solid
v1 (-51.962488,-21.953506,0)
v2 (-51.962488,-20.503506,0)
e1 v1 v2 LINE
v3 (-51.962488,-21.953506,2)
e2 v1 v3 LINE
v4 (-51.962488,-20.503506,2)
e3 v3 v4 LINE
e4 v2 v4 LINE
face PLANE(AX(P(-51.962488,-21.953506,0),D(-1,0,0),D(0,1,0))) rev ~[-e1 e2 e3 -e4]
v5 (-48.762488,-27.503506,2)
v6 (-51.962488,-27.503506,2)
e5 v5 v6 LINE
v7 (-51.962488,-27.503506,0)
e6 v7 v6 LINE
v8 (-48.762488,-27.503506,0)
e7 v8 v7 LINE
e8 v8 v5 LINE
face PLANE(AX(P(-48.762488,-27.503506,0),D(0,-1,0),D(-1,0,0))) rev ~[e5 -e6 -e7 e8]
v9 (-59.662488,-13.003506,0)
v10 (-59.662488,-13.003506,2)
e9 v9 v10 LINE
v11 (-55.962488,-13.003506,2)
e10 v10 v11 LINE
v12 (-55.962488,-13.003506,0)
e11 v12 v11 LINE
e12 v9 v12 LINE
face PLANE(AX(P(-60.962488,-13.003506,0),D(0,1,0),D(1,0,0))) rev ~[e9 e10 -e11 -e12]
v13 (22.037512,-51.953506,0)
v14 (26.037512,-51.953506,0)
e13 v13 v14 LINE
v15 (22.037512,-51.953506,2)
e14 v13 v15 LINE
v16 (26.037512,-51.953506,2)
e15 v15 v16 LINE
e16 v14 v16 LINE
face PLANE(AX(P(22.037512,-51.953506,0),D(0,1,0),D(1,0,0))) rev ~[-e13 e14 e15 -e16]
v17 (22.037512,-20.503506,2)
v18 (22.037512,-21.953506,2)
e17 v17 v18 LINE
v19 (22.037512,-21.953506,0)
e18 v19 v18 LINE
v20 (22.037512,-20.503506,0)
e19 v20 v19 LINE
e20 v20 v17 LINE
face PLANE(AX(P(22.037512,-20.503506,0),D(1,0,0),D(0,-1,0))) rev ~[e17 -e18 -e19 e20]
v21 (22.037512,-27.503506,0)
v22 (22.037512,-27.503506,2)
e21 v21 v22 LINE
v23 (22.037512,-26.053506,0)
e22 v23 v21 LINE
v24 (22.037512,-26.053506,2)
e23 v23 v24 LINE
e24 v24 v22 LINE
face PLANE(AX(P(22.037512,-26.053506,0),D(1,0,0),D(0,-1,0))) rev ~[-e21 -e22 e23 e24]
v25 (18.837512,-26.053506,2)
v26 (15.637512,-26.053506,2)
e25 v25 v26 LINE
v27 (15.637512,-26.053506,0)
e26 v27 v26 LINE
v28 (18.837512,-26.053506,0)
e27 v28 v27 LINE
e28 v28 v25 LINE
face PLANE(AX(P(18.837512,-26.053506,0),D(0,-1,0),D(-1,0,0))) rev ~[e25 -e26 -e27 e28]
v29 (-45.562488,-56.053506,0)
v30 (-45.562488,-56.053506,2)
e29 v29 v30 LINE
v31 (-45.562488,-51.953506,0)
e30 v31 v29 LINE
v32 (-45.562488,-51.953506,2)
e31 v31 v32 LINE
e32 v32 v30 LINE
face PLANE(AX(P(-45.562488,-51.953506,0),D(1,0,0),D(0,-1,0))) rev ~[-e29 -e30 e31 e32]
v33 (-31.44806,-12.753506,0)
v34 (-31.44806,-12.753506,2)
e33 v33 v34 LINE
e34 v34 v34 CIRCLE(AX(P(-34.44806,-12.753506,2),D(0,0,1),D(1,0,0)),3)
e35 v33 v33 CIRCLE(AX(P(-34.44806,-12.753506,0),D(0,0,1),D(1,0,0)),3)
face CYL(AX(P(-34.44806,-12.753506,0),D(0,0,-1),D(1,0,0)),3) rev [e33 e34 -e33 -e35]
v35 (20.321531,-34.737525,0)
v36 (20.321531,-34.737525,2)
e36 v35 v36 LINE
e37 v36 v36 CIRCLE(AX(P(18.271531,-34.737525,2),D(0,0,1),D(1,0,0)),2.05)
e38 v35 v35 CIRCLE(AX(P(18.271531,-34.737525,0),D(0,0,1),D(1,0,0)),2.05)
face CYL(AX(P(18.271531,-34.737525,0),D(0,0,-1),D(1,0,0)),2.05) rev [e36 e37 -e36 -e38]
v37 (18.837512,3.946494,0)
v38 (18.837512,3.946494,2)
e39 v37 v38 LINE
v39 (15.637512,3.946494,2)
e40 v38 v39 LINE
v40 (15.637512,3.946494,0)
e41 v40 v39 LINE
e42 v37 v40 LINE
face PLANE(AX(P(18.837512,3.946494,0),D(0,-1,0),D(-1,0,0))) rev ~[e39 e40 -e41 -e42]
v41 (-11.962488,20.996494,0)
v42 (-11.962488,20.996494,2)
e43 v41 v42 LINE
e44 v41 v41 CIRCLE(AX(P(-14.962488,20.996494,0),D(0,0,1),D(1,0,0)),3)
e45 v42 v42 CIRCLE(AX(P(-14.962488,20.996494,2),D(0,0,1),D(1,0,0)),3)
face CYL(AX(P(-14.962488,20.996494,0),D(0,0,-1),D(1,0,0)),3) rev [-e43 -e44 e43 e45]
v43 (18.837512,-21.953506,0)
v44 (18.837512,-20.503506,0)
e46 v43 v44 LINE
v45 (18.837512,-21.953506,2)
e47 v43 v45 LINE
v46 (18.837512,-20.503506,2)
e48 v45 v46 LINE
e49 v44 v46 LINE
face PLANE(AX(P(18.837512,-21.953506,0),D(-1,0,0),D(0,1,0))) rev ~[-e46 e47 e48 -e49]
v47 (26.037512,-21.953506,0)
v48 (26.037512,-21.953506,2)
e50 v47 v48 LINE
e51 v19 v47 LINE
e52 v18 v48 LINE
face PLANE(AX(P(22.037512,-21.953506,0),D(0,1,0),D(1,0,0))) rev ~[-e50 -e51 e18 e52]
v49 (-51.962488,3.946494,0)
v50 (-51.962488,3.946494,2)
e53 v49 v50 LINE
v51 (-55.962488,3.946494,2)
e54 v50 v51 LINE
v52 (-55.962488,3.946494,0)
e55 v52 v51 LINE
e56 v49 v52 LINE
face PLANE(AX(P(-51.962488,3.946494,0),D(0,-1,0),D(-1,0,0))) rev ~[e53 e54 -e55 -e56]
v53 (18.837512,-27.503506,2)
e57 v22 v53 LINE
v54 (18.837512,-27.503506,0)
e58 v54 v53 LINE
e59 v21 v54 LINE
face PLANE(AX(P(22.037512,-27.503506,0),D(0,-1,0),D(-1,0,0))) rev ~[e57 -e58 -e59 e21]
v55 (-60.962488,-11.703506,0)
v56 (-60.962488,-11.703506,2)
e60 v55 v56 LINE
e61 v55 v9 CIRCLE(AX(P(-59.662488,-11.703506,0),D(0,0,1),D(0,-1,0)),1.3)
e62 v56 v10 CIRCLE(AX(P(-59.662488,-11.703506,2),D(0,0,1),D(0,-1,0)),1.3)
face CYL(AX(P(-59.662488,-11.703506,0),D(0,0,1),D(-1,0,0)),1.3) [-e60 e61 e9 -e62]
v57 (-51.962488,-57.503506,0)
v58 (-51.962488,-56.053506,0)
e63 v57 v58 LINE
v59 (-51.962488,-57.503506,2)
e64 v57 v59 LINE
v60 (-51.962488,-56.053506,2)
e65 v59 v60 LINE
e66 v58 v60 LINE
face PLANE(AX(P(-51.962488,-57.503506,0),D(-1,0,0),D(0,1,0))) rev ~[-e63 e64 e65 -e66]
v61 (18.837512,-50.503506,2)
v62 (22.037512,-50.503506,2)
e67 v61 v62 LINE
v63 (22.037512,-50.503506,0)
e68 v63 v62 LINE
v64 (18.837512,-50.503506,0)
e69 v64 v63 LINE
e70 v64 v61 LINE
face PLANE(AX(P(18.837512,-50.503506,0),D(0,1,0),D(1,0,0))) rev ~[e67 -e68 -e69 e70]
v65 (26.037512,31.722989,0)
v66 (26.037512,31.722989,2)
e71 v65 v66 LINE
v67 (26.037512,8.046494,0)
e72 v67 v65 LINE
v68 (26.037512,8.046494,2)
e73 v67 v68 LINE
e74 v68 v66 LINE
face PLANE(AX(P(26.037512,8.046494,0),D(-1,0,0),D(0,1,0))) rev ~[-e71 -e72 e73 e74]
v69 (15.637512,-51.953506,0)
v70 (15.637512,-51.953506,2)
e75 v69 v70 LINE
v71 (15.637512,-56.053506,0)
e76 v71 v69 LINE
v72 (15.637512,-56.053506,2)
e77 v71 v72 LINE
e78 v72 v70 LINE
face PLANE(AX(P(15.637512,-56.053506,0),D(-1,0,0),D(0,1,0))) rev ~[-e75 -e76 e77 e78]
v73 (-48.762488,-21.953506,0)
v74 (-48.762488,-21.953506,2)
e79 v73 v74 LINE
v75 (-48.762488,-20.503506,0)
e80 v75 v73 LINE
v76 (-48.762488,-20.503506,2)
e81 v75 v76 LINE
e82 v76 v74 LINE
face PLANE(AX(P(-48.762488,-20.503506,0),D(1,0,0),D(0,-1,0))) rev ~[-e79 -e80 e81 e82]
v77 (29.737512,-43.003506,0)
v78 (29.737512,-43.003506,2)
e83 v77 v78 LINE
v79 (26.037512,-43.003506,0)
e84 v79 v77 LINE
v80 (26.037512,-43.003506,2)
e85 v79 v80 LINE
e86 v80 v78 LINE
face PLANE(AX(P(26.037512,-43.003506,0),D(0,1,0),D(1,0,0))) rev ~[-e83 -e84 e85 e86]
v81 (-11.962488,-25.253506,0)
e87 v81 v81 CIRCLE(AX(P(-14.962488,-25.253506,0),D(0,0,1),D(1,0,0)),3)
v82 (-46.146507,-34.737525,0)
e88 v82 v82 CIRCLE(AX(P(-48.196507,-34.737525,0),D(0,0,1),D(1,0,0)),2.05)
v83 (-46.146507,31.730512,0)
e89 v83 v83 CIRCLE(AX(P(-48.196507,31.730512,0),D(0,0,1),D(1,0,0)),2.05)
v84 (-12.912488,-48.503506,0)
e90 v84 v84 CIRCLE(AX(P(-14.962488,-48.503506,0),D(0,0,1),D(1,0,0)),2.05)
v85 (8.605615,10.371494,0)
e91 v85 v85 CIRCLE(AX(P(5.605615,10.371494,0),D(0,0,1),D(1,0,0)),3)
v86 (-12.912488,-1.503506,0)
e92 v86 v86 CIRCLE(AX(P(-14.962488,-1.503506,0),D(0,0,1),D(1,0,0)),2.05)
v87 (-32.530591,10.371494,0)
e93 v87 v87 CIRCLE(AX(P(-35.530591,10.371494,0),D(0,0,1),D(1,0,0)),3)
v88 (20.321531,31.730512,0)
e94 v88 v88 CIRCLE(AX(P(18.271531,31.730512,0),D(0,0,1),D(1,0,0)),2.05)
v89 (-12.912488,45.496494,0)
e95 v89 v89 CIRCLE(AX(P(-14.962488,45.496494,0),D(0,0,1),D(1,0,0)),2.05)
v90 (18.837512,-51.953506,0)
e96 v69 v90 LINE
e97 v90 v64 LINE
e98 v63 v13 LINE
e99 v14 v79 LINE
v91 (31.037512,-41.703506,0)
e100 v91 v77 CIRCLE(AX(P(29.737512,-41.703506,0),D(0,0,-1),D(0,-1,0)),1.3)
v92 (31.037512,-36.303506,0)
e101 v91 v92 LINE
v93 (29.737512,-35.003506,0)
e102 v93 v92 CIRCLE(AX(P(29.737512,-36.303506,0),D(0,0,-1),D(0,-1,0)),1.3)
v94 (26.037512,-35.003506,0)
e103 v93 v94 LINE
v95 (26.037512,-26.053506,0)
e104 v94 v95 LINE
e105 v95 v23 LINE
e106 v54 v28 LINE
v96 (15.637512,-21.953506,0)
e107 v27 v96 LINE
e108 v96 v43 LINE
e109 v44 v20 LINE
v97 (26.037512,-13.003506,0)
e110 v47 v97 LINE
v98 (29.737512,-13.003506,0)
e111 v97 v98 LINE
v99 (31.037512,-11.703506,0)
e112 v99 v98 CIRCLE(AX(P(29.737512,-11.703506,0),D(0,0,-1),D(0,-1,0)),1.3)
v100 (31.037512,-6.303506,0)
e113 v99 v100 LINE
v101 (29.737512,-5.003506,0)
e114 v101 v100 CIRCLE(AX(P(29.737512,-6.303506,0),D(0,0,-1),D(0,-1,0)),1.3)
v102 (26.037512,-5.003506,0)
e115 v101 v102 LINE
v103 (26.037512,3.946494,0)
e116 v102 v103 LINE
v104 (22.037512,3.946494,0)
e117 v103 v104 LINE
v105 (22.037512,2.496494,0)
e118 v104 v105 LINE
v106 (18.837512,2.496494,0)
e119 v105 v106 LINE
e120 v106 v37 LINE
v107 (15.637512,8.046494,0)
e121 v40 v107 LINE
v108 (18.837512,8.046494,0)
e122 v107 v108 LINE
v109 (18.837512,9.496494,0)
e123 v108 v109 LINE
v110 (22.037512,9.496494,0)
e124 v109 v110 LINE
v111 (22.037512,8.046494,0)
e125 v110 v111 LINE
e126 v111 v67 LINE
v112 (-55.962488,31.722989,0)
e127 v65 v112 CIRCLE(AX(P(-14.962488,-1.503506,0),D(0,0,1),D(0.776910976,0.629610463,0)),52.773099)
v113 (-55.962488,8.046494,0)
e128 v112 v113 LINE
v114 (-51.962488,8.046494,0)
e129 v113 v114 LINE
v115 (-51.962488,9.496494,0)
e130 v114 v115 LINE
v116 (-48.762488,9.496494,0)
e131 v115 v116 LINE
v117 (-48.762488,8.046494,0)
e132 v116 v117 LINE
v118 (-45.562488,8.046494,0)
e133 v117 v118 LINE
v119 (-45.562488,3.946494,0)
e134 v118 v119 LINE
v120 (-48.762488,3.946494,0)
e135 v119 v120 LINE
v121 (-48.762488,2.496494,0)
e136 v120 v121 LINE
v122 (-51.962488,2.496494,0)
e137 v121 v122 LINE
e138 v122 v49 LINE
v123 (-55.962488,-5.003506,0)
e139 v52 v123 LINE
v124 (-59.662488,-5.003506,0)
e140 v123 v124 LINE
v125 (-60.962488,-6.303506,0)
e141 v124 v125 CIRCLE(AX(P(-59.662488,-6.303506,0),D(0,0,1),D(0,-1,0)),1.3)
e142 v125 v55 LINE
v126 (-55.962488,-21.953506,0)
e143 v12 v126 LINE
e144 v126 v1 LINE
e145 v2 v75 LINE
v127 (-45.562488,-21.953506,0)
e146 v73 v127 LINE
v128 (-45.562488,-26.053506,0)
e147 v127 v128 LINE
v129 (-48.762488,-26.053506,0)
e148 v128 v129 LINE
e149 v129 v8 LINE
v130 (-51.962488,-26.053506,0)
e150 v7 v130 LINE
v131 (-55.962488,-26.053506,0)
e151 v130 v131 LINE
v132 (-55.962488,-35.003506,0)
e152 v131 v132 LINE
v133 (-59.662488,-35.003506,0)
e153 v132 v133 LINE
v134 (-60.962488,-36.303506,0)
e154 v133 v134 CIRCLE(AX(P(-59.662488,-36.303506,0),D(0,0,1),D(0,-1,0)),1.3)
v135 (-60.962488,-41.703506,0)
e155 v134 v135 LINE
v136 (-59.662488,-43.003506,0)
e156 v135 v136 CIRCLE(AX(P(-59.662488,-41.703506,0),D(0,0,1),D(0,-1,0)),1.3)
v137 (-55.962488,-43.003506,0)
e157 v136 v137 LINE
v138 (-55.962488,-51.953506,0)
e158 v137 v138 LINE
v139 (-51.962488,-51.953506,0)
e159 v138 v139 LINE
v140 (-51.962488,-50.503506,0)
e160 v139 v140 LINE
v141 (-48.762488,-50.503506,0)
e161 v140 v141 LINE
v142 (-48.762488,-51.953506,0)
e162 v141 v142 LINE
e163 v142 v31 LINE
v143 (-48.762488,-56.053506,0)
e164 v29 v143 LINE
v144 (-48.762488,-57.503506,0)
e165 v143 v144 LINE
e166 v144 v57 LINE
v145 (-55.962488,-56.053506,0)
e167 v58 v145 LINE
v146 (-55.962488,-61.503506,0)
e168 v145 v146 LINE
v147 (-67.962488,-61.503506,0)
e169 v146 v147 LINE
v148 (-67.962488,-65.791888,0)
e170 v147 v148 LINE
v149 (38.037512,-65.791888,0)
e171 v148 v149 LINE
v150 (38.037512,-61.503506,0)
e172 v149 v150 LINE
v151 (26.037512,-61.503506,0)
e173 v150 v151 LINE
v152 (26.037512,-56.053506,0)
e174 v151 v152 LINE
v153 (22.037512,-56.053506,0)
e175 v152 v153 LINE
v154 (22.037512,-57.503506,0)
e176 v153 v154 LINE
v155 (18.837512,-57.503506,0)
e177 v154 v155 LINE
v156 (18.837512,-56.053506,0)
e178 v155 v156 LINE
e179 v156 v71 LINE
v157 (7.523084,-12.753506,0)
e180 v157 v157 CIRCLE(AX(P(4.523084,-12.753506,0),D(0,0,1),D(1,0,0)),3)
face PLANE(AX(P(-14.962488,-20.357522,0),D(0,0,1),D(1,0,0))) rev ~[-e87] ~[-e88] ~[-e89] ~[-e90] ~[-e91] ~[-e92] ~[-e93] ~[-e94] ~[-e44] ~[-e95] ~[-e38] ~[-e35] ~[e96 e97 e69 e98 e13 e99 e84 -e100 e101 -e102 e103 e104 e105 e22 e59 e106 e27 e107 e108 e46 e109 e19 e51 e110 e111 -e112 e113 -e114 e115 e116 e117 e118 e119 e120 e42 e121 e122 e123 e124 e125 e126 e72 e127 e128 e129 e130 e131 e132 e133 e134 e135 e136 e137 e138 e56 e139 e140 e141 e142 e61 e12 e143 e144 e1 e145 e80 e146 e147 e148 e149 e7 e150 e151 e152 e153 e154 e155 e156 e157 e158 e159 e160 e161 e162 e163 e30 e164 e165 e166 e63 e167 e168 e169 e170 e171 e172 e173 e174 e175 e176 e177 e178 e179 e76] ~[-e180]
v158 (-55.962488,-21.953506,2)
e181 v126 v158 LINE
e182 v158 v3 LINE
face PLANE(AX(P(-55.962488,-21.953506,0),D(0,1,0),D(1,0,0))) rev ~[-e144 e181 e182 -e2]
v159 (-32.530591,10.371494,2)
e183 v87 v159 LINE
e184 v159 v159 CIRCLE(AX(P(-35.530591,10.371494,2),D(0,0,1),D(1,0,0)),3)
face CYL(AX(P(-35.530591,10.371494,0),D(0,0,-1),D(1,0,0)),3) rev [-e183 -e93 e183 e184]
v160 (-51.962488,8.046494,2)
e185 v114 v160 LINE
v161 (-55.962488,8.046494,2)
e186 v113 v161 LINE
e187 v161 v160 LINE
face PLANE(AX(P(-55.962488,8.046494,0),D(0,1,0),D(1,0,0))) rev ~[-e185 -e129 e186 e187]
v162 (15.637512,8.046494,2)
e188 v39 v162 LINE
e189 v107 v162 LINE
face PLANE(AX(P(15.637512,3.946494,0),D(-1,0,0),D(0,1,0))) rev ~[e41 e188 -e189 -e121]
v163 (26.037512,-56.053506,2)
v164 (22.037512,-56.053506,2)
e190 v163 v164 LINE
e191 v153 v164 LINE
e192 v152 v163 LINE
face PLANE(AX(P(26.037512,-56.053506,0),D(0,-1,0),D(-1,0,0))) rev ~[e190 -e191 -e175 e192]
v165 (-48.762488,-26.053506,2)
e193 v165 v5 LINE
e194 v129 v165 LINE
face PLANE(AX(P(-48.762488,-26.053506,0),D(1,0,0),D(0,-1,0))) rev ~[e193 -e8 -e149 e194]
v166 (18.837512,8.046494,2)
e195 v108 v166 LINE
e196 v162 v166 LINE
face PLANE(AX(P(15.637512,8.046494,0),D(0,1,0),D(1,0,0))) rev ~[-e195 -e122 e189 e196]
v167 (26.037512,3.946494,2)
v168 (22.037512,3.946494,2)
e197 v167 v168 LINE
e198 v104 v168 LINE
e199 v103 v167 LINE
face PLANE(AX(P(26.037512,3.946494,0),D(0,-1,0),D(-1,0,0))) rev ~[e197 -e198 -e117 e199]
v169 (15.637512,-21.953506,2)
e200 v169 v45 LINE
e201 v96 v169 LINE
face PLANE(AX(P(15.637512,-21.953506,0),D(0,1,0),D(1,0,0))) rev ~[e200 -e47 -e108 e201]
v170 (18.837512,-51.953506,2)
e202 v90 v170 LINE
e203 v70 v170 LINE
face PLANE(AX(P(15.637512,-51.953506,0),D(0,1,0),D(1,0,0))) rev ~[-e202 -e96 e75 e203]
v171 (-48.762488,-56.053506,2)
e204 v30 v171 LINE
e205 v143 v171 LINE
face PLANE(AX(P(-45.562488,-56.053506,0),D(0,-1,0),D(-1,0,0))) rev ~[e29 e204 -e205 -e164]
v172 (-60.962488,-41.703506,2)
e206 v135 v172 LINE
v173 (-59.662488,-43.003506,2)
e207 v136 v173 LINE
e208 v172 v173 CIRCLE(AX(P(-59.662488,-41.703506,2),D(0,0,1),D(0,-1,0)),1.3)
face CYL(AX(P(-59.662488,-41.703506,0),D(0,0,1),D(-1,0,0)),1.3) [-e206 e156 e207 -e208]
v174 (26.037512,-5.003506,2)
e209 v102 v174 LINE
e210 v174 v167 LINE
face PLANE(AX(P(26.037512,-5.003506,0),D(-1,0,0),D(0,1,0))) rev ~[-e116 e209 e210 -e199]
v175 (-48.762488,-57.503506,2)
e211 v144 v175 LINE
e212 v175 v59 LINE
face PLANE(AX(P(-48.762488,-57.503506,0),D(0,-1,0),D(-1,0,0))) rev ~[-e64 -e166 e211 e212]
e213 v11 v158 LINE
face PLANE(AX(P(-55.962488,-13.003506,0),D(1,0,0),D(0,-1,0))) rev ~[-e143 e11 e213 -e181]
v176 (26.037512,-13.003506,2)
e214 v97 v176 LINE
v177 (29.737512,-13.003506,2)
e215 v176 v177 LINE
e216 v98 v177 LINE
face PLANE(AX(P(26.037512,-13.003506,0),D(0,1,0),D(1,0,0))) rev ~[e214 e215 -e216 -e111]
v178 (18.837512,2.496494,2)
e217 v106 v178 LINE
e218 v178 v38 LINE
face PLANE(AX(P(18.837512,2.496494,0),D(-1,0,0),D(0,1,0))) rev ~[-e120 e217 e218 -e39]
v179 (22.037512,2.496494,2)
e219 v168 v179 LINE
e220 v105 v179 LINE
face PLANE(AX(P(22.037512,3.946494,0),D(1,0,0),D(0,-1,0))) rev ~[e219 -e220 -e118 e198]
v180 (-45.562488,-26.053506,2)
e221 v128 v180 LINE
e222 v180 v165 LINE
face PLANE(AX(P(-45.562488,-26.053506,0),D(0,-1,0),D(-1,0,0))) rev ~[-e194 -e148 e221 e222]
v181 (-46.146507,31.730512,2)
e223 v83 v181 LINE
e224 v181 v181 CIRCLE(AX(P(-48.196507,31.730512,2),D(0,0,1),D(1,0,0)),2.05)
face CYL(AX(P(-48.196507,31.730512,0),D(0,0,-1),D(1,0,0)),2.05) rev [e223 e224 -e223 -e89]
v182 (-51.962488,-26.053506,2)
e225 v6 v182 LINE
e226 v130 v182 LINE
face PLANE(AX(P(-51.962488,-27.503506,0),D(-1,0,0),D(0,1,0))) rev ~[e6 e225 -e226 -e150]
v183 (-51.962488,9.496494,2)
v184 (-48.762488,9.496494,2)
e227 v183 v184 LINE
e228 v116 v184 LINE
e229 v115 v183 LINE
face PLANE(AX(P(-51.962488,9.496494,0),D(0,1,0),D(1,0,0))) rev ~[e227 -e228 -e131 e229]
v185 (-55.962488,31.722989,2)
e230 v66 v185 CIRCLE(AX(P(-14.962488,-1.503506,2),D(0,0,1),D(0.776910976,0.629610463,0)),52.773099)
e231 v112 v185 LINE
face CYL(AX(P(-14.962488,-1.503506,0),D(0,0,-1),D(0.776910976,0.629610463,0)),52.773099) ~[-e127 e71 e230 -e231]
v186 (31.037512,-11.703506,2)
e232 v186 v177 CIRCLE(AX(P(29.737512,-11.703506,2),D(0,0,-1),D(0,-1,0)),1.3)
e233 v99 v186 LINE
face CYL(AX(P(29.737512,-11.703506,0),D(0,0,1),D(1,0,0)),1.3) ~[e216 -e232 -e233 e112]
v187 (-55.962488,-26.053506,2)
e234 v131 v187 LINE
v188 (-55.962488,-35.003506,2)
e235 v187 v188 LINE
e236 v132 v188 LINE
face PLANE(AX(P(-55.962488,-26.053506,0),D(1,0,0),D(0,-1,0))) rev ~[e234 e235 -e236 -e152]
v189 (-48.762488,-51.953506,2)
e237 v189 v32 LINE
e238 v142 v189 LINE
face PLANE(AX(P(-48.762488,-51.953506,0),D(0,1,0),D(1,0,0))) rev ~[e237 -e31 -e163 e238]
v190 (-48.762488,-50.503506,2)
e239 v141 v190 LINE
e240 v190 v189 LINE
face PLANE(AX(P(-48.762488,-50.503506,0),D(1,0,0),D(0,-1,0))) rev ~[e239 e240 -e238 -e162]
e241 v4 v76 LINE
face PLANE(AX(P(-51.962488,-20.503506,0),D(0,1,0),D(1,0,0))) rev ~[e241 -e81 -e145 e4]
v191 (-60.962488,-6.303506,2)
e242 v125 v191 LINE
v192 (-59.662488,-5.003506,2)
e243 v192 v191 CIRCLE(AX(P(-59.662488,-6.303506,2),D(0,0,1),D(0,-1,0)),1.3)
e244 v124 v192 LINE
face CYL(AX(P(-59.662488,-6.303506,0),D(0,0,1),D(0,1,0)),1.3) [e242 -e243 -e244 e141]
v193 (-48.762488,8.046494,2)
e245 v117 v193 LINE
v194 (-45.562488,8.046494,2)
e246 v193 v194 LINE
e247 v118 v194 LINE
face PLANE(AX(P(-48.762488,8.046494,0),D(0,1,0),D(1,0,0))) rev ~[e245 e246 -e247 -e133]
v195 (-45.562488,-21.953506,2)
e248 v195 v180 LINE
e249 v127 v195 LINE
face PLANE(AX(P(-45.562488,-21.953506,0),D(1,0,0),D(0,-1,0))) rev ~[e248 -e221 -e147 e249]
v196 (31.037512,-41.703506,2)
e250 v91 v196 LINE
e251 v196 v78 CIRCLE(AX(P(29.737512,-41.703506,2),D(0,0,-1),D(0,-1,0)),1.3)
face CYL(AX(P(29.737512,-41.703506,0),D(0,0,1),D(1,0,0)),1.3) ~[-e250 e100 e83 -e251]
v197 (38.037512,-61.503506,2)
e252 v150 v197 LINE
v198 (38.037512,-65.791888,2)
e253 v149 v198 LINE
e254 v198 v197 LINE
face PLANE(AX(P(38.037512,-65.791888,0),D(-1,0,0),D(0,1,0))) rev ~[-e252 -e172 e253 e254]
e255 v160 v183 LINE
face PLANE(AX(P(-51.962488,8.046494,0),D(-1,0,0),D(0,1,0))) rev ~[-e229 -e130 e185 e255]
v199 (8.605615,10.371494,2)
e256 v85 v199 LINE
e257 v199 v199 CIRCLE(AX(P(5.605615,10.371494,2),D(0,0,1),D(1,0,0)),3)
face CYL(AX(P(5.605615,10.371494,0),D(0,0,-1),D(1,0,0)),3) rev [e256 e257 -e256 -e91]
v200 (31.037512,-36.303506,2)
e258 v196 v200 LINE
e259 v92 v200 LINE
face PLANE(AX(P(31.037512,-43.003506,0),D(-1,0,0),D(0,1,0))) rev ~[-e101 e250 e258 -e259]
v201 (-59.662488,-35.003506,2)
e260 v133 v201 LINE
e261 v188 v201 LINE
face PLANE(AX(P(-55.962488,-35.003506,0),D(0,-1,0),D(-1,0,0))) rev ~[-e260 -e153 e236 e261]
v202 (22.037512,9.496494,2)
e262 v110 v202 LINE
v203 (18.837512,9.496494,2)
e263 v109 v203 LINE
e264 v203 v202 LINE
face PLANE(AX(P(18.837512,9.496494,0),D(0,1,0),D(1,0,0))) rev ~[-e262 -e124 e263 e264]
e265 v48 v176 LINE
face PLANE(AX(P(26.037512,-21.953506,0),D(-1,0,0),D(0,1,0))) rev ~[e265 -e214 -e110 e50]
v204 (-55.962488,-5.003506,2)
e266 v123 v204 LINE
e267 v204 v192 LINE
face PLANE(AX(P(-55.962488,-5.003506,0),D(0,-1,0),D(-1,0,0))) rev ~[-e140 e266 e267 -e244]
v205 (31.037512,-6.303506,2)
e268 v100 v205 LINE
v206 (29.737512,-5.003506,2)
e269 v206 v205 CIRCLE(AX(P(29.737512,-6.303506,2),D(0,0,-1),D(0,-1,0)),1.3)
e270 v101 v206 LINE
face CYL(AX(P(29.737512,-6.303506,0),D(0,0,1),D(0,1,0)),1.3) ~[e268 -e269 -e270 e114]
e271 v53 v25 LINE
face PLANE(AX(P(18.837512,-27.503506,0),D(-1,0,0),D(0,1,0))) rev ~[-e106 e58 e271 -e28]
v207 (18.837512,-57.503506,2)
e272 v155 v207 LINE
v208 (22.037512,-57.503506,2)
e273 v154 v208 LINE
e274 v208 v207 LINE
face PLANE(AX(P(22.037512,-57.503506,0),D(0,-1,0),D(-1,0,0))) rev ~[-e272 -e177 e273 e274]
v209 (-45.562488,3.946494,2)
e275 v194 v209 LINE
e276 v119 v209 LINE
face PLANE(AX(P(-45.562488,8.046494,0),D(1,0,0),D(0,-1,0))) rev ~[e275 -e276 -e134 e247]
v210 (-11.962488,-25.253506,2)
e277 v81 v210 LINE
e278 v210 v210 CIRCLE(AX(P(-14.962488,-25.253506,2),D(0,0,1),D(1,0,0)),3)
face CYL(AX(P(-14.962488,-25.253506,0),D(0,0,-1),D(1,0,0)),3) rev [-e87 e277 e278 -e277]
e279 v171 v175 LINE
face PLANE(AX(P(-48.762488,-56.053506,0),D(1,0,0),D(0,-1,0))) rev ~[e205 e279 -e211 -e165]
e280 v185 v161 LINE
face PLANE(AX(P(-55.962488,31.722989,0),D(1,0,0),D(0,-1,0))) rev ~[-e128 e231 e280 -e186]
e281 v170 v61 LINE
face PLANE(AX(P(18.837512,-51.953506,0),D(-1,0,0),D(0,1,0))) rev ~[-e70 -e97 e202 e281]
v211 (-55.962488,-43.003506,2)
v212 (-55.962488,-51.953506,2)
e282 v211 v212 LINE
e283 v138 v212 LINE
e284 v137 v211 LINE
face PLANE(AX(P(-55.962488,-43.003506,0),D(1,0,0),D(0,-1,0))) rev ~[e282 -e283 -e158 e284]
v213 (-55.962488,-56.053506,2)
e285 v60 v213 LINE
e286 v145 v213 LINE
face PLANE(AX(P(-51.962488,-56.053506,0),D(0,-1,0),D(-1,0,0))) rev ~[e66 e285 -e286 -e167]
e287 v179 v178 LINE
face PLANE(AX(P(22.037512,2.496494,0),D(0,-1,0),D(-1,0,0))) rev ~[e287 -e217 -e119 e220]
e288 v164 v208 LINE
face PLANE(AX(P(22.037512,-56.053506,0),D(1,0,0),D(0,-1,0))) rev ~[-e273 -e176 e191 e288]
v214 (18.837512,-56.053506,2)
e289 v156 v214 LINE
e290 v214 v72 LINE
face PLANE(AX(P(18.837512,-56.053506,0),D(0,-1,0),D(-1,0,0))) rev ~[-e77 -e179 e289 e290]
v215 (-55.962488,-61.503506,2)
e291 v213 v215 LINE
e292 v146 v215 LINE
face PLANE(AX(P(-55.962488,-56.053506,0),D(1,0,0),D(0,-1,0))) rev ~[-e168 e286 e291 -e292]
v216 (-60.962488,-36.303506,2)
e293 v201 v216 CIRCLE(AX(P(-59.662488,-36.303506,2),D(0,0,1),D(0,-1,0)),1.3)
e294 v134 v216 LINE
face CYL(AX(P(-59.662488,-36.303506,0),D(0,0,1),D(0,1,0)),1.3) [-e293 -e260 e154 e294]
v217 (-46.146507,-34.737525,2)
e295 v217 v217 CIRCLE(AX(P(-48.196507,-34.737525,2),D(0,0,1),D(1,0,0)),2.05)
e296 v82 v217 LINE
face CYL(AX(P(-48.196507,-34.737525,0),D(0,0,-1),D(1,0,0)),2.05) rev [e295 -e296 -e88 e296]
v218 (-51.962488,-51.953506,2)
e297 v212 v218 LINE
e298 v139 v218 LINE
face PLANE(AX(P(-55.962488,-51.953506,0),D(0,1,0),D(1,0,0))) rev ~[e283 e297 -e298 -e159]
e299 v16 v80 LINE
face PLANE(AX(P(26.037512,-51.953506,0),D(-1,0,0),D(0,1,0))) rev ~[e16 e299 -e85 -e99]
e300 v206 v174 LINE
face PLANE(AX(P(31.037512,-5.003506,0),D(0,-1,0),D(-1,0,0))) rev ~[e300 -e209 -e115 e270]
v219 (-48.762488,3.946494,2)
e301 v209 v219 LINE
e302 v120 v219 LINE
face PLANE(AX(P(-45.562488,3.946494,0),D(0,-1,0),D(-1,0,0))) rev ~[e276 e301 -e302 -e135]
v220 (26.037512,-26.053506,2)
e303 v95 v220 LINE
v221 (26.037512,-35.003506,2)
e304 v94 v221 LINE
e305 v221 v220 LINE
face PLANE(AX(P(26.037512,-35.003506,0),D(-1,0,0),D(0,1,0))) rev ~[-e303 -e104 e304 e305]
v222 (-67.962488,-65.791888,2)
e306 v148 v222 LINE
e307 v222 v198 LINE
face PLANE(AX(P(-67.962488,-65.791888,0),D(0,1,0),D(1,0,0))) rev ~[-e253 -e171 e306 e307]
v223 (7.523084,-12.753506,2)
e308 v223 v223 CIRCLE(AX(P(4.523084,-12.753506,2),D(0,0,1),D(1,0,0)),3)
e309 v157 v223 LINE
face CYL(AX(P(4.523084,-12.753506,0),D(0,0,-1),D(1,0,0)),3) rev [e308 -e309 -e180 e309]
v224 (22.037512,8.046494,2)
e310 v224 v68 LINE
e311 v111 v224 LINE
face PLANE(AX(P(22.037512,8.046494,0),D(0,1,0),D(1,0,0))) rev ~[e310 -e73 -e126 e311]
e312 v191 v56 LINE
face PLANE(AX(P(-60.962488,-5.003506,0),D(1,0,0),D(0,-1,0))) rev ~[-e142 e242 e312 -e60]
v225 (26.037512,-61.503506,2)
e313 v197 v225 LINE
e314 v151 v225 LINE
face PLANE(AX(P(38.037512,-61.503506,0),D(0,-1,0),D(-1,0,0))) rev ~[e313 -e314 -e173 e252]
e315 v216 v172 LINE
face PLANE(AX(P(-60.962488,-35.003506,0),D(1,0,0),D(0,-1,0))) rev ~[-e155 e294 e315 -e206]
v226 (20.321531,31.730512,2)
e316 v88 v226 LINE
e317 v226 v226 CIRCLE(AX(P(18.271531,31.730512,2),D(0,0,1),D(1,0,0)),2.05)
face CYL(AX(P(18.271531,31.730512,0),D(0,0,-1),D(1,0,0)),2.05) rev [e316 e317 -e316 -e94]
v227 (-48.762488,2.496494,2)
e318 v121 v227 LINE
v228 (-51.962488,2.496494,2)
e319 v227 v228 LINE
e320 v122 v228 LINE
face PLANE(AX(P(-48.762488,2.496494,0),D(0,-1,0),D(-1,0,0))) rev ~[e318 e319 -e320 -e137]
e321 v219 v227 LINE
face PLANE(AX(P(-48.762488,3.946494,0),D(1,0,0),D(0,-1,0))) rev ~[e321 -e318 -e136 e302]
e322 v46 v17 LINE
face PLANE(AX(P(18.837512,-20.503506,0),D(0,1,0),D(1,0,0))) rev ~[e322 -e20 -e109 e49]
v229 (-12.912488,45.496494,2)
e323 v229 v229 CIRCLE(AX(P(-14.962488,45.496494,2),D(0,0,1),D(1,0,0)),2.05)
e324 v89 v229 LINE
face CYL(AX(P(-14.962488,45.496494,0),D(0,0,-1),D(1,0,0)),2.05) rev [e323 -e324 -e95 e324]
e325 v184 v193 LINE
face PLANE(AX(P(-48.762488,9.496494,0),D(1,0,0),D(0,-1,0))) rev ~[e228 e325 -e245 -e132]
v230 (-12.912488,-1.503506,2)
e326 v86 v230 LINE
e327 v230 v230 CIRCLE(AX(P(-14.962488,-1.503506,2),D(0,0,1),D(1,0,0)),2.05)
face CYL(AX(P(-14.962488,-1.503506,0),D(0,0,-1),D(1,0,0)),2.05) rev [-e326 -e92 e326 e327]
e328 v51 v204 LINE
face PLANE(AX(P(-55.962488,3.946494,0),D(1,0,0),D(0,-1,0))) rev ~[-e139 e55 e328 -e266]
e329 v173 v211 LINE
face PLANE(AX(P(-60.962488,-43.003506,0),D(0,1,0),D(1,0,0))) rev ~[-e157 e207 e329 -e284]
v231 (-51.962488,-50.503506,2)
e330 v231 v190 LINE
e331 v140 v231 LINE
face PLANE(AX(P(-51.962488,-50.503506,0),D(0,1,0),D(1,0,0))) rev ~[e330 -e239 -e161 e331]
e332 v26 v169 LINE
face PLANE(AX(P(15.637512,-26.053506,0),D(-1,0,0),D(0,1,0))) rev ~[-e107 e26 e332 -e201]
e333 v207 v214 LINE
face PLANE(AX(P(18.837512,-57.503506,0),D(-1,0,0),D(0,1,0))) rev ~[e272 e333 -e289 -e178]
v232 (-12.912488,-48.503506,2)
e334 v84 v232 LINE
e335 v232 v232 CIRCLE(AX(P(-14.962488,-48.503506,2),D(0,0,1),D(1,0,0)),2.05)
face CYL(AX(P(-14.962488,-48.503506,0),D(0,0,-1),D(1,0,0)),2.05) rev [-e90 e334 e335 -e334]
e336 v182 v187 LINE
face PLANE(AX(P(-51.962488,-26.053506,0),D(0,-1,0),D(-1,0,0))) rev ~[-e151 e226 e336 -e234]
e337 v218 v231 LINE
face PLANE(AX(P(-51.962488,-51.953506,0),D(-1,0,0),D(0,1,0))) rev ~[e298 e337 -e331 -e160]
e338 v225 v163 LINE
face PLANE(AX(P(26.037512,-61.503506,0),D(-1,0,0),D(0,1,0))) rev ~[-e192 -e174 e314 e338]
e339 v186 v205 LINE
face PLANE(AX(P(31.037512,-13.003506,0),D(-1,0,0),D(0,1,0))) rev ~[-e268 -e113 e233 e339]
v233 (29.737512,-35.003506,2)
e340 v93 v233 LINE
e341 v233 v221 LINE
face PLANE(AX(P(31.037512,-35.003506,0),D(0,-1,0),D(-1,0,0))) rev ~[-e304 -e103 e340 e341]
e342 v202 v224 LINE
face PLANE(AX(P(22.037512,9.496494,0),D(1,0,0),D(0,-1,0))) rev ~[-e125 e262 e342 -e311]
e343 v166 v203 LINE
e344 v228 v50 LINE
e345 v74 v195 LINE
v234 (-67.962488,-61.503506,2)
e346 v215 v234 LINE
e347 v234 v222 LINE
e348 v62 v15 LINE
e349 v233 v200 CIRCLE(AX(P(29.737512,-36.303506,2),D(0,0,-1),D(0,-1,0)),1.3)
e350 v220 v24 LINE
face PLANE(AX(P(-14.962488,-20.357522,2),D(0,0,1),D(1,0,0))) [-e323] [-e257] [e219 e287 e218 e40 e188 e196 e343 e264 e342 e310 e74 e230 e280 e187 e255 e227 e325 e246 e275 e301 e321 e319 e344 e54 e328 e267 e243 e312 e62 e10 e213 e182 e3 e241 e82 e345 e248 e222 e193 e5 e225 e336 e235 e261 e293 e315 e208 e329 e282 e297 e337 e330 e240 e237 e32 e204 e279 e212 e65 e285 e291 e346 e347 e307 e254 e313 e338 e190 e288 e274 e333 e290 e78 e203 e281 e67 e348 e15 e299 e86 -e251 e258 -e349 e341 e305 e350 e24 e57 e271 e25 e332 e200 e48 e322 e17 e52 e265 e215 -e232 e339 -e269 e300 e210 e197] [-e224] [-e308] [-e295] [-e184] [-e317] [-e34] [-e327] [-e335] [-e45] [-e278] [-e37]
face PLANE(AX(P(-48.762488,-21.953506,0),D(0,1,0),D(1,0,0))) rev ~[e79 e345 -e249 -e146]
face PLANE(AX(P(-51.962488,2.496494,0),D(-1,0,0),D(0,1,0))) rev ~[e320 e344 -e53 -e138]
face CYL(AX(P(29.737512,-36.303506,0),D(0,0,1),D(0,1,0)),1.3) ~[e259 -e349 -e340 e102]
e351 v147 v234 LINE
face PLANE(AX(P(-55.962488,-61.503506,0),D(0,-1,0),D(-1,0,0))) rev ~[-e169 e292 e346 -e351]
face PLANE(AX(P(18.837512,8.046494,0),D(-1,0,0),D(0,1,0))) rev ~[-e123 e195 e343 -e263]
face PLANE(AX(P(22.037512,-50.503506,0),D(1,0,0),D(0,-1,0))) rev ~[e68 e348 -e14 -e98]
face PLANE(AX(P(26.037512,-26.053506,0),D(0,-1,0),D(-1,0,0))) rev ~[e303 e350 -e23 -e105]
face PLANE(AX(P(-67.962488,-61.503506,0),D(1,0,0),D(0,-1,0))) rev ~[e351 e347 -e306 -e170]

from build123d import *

# Parameters (mm, degrees)
SKETCH_1_R      = 3
SKETCH_1_R_2    = 2.05
EXTRUDE_2_DEPTH = 2
FILLET_1_R      = 1.3


with BuildPart() as part:
    # 草图1 → 凸台-拉伸2 (new body)
    with BuildSketch(Plane.XY):
        with BuildLine():
            Line((-55.962487977, 23.496493589), (-55.962487977, 8.046493589))
            Line((-55.962487977, 8.046493589), (-51.962487977, 8.046493589))
            Line((-51.962487977, 8.046493589), (-51.962487977, 9.496493589))
            Line((-51.962487977, 9.496493589), (-48.762487977, 9.496493589))
            Line((-48.762487977, 9.496493589), (-48.762487977, 8.046493589))
            Line((-48.762487977, 8.046493589), (-45.562487977, 8.046493589))
            Line((-45.562487977, 8.046493589), (-45.562487977, 3.946493589))
            Line((-45.562487977, 3.946493589), (-48.762487977, 3.946493589))
            Line((-48.762487977, 3.946493589), (-48.762487977, 2.496493589))
            Line((-48.762487977, 2.496493589), (-51.962487977, 2.496493589))
            Line((-51.962487977, 2.496493589), (-51.962487977, 3.946493589))
            Line((-51.962487977, 3.946493589), (-55.962487977, 3.946493589))
            Line((-55.962487977, 3.946493589), (-55.962487977, -5.003506411))
            Line((-55.962487977, -5.003506411), (-60.962487977, -5.003506411))
            Line((-60.962487977, -5.003506411), (-60.962487977, -13.003506411))
            Line((-60.962487977, -13.003506411), (-55.962487977, -13.003506411))
            Line((-55.962487977, -13.003506411), (-55.962487977, -21.953506411))
            Line((-55.962487977, -21.953506411), (-51.962487977, -21.953506411))
            Line((-51.962487977, -21.953506411), (-51.962487977, -20.503506411))
            Line((-51.962487977, -20.503506411), (-48.762487977, -20.503506411))
            Line((-48.762487977, -20.503506411), (-48.762487977, -21.953506411))
            Line((-48.762487977, -21.953506411), (-45.562487977, -21.953506411))
            Line((-45.562487977, -21.953506411), (-45.562487977, -26.053506411))
            Line((-45.562487977, -26.053506411), (-48.762487977, -26.053506411))
            Line((-48.762487977, -26.053506411), (-48.762487977, -27.503506411))
            Line((-48.762487977, -27.503506411), (-51.962487977, -27.503506411))
            Line((-51.962487977, -27.503506411), (-51.962487977, -26.053506411))
            Line((-51.962487977, -26.053506411), (-55.962487977, -26.053506411))
            Line((-55.962487977, -26.053506411), (-55.962487977, -35.003506411))
            Line((-55.962487977, -35.003506411), (-60.962487977, -35.003506411))
            Line((-60.962487977, -35.003506411), (-60.962487977, -43.003506411))
            Line((-60.962487977, -43.003506411), (-55.962487977, -43.003506411))
            Line((-55.962487977, -43.003506411), (-55.962487977, -51.953506411))
            Line((-55.962487977, -51.953506411), (-51.962487977, -51.953506411))
            Line((-51.962487977, -51.953506411), (-51.962487977, -50.503506411))
            Line((-51.962487977, -50.503506411), (-48.762487977, -50.503506411))
            Line((-48.762487977, -50.503506411), (-48.762487977, -51.953506411))
            Line((-48.762487977, -51.953506411), (-45.562487977, -51.953506411))
            Line((-45.562487977, -51.953506411), (-45.562487977, -56.053506411))
            Line((-45.562487977, -56.053506411), (-48.762487977, -56.053506411))
            Line((-48.762487977, -56.053506411), (-48.762487977, -57.503506411))
            Line((-48.762487977, -57.503506411), (-51.962487977, -57.503506411))
            Line((-51.962487977, -57.503506411), (-51.962487977, -56.053506411))
            Line((-51.962487977, -56.053506411), (-55.962487977, -56.053506411))
            Line((-55.962487977, -56.053506411), (-55.962487977, -61.503506411))
            Line((-55.962487977, -61.503506411), (-67.962487977, -61.503506411))
            Line((-67.962487977, -61.503506411), (-67.962487977, -65.791888255))
            Line((-67.962487977, -65.791888255), (38.037512023, -65.791888255))
            Line((38.037512023, -65.791888255), (38.037512023, -61.503506411))
            Line((38.037512023, -61.503506411), (26.037512023, -61.503506411))
            Line((26.037512023, -61.503506411), (26.037512023, -56.053506411))
            Line((26.037512023, -56.053506411), (22.037512023, -56.053506411))
            Line((22.037512023, -56.053506411), (22.037512023, -57.503506411))
            Line((22.037512023, -57.503506411), (18.837512023, -57.503506411))
            Line((18.837512023, -57.503506411), (18.837512023, -56.053506411))
            Line((18.837512023, -56.053506411), (15.637512023, -56.053506411))
            Line((15.637512023, -56.053506411), (15.637512023, -51.953506411))
            Line((15.637512023, -51.953506411), (18.837512023, -51.953506411))
            Line((18.837512023, -51.953506411), (18.837512023, -50.503506411))
            Line((18.837512023, -50.503506411), (22.037512023, -50.503506411))
            Line((22.037512023, -50.503506411), (22.037512023, -51.953506411))
            Line((22.037512023, -51.953506411), (26.037512023, -51.953506411))
            Line((26.037512023, -51.953506411), (26.037512023, -43.003506411))
            Line((26.037512023, -43.003506411), (31.037512023, -43.003506411))
            Line((31.037512023, -43.003506411), (31.037512023, -35.003506411))
            Line((31.037512023, -35.003506411), (26.037512023, -35.003506411))
            Line((26.037512023, -35.003506411), (26.037512023, -26.053506411))
            Line((26.037512023, -26.053506411), (22.037512023, -26.053506411))
            Line((22.037512023, -26.053506411), (22.037512023, -27.503506411))
            Line((22.037512023, -27.503506411), (18.837512023, -27.503506411))
            Line((18.837512023, -27.503506411), (18.837512023, -26.053506411))
            Line((18.837512023, -26.053506411), (15.637512023, -26.053506411))
            Line((15.637512023, -26.053506411), (15.637512023, -21.953506411))
            Line((15.637512023, -21.953506411), (18.837512023, -21.953506411))
            Line((18.837512023, -21.953506411), (18.837512023, -20.503506411))
            Line((18.837512023, -20.503506411), (22.037512023, -20.503506411))
            Line((22.037512023, -20.503506411), (22.037512023, -21.953506411))
            Line((22.037512023, -21.953506411), (26.037512023, -21.953506411))
            Line((26.037512023, -21.953506411), (26.037512023, -13.003506411))
            Line((26.037512023, -13.003506411), (31.037512023, -13.003506411))
            Line((31.037512023, -13.003506411), (31.037512023, -5.003506411))
            Line((31.037512023, -5.003506411), (26.037512023, -5.003506411))
            Line((26.037512023, -5.003506411), (26.037512023, 3.946493589))
            Line((26.037512023, 3.946493589), (22.037512023, 3.946493589))
            Line((22.037512023, 3.946493589), (22.037512023, 2.496493589))
            Line((22.037512023, 2.496493589), (18.837512023, 2.496493589))
            Line((18.837512023, 2.496493589), (18.837512023, 3.946493589))
            Line((18.837512023, 3.946493589), (15.637512023, 3.946493589))
            Line((15.637512023, 3.946493589), (15.637512023, 8.046493589))
            Line((15.637512023, 8.046493589), (18.837512023, 8.046493589))
            Line((18.837512023, 8.046493589), (18.837512023, 9.496493589))
            Line((18.837512023, 9.496493589), (22.037512023, 9.496493589))
            Line((22.037512023, 9.496493589), (22.037512023, 8.046493589))
            Line((22.037512023, 8.046493589), (26.037512023, 8.046493589))
            Line((26.037512023, 8.046493589), (26.037512023, 23.496493589))
            Line((26.037512023, 23.496493589), (26.037512023, 31.722989041))
            ThreePointArc((26.037512023, 31.722989041), (-14.962487977, 51.269592797), (-55.962487977, 31.722989041))
            Line((-55.962487977, 31.722989041), (-55.962487977, 23.496493589))
        make_face()
        with Locations((-14.962487977, -25.253506411)):
            Circle(SKETCH_1_R, mode=Mode.SUBTRACT)
        with Locations((4.523083608, -12.753506411)):
            Circle(SKETCH_1_R, mode=Mode.SUBTRACT)
        with Locations((-14.962487977, -1.503506411)):
            Circle(SKETCH_1_R_2, mode=Mode.SUBTRACT)
        with Locations((-35.530591317, 10.371493589)):
            Circle(SKETCH_1_R, mode=Mode.SUBTRACT)
        with Locations((-34.448059562, -12.753506411)):
            Circle(SKETCH_1_R, mode=Mode.SUBTRACT)
        with Locations((5.605615363, 10.371493589)):
            Circle(SKETCH_1_R, mode=Mode.SUBTRACT)
        with Locations((-14.962487977, 20.996493589)):
            Circle(SKETCH_1_R, mode=Mode.SUBTRACT)
        with Locations((18.271530739, -34.737525127)):
            Circle(SKETCH_1_R_2, mode=Mode.SUBTRACT)
        with Locations((-14.962487977, -48.503506411)):
            Circle(SKETCH_1_R_2, mode=Mode.SUBTRACT)
        with Locations((-48.196506692, -34.737525127)):
            Circle(SKETCH_1_R_2, mode=Mode.SUBTRACT)
        with Locations((-48.196506692, 31.730512305)):
            Circle(SKETCH_1_R_2, mode=Mode.SUBTRACT)
        with Locations((-14.962487977, 45.496493589)):
            Circle(SKETCH_1_R_2, mode=Mode.SUBTRACT)
        with Locations((18.271530739, 31.730512305)):
            Circle(SKETCH_1_R_2, mode=Mode.SUBTRACT)
    extrude(amount=EXTRUDE_2_DEPTH)

    # 圆角1
    fillet_1_edges = [part.edges().sort_by_distance(p)[0] for p in [
        (-60.962487977, -43.003506411, 1),
        (-60.962487977, -35.003506411, 1),
        (-60.962487977, -13.003506411, 1),
        (-60.962487977, -5.003506411, 1),
        (31.037512023, -5.003506411, 1),
        (31.037512023, -13.003506411, 1),
        (31.037512023, -35.003506411, 1),
        (31.037512023, -43.003506411, 1),
    ]]
    fillet(fillet_1_edges, radius=FILLET_1_R)


solid = part.part
